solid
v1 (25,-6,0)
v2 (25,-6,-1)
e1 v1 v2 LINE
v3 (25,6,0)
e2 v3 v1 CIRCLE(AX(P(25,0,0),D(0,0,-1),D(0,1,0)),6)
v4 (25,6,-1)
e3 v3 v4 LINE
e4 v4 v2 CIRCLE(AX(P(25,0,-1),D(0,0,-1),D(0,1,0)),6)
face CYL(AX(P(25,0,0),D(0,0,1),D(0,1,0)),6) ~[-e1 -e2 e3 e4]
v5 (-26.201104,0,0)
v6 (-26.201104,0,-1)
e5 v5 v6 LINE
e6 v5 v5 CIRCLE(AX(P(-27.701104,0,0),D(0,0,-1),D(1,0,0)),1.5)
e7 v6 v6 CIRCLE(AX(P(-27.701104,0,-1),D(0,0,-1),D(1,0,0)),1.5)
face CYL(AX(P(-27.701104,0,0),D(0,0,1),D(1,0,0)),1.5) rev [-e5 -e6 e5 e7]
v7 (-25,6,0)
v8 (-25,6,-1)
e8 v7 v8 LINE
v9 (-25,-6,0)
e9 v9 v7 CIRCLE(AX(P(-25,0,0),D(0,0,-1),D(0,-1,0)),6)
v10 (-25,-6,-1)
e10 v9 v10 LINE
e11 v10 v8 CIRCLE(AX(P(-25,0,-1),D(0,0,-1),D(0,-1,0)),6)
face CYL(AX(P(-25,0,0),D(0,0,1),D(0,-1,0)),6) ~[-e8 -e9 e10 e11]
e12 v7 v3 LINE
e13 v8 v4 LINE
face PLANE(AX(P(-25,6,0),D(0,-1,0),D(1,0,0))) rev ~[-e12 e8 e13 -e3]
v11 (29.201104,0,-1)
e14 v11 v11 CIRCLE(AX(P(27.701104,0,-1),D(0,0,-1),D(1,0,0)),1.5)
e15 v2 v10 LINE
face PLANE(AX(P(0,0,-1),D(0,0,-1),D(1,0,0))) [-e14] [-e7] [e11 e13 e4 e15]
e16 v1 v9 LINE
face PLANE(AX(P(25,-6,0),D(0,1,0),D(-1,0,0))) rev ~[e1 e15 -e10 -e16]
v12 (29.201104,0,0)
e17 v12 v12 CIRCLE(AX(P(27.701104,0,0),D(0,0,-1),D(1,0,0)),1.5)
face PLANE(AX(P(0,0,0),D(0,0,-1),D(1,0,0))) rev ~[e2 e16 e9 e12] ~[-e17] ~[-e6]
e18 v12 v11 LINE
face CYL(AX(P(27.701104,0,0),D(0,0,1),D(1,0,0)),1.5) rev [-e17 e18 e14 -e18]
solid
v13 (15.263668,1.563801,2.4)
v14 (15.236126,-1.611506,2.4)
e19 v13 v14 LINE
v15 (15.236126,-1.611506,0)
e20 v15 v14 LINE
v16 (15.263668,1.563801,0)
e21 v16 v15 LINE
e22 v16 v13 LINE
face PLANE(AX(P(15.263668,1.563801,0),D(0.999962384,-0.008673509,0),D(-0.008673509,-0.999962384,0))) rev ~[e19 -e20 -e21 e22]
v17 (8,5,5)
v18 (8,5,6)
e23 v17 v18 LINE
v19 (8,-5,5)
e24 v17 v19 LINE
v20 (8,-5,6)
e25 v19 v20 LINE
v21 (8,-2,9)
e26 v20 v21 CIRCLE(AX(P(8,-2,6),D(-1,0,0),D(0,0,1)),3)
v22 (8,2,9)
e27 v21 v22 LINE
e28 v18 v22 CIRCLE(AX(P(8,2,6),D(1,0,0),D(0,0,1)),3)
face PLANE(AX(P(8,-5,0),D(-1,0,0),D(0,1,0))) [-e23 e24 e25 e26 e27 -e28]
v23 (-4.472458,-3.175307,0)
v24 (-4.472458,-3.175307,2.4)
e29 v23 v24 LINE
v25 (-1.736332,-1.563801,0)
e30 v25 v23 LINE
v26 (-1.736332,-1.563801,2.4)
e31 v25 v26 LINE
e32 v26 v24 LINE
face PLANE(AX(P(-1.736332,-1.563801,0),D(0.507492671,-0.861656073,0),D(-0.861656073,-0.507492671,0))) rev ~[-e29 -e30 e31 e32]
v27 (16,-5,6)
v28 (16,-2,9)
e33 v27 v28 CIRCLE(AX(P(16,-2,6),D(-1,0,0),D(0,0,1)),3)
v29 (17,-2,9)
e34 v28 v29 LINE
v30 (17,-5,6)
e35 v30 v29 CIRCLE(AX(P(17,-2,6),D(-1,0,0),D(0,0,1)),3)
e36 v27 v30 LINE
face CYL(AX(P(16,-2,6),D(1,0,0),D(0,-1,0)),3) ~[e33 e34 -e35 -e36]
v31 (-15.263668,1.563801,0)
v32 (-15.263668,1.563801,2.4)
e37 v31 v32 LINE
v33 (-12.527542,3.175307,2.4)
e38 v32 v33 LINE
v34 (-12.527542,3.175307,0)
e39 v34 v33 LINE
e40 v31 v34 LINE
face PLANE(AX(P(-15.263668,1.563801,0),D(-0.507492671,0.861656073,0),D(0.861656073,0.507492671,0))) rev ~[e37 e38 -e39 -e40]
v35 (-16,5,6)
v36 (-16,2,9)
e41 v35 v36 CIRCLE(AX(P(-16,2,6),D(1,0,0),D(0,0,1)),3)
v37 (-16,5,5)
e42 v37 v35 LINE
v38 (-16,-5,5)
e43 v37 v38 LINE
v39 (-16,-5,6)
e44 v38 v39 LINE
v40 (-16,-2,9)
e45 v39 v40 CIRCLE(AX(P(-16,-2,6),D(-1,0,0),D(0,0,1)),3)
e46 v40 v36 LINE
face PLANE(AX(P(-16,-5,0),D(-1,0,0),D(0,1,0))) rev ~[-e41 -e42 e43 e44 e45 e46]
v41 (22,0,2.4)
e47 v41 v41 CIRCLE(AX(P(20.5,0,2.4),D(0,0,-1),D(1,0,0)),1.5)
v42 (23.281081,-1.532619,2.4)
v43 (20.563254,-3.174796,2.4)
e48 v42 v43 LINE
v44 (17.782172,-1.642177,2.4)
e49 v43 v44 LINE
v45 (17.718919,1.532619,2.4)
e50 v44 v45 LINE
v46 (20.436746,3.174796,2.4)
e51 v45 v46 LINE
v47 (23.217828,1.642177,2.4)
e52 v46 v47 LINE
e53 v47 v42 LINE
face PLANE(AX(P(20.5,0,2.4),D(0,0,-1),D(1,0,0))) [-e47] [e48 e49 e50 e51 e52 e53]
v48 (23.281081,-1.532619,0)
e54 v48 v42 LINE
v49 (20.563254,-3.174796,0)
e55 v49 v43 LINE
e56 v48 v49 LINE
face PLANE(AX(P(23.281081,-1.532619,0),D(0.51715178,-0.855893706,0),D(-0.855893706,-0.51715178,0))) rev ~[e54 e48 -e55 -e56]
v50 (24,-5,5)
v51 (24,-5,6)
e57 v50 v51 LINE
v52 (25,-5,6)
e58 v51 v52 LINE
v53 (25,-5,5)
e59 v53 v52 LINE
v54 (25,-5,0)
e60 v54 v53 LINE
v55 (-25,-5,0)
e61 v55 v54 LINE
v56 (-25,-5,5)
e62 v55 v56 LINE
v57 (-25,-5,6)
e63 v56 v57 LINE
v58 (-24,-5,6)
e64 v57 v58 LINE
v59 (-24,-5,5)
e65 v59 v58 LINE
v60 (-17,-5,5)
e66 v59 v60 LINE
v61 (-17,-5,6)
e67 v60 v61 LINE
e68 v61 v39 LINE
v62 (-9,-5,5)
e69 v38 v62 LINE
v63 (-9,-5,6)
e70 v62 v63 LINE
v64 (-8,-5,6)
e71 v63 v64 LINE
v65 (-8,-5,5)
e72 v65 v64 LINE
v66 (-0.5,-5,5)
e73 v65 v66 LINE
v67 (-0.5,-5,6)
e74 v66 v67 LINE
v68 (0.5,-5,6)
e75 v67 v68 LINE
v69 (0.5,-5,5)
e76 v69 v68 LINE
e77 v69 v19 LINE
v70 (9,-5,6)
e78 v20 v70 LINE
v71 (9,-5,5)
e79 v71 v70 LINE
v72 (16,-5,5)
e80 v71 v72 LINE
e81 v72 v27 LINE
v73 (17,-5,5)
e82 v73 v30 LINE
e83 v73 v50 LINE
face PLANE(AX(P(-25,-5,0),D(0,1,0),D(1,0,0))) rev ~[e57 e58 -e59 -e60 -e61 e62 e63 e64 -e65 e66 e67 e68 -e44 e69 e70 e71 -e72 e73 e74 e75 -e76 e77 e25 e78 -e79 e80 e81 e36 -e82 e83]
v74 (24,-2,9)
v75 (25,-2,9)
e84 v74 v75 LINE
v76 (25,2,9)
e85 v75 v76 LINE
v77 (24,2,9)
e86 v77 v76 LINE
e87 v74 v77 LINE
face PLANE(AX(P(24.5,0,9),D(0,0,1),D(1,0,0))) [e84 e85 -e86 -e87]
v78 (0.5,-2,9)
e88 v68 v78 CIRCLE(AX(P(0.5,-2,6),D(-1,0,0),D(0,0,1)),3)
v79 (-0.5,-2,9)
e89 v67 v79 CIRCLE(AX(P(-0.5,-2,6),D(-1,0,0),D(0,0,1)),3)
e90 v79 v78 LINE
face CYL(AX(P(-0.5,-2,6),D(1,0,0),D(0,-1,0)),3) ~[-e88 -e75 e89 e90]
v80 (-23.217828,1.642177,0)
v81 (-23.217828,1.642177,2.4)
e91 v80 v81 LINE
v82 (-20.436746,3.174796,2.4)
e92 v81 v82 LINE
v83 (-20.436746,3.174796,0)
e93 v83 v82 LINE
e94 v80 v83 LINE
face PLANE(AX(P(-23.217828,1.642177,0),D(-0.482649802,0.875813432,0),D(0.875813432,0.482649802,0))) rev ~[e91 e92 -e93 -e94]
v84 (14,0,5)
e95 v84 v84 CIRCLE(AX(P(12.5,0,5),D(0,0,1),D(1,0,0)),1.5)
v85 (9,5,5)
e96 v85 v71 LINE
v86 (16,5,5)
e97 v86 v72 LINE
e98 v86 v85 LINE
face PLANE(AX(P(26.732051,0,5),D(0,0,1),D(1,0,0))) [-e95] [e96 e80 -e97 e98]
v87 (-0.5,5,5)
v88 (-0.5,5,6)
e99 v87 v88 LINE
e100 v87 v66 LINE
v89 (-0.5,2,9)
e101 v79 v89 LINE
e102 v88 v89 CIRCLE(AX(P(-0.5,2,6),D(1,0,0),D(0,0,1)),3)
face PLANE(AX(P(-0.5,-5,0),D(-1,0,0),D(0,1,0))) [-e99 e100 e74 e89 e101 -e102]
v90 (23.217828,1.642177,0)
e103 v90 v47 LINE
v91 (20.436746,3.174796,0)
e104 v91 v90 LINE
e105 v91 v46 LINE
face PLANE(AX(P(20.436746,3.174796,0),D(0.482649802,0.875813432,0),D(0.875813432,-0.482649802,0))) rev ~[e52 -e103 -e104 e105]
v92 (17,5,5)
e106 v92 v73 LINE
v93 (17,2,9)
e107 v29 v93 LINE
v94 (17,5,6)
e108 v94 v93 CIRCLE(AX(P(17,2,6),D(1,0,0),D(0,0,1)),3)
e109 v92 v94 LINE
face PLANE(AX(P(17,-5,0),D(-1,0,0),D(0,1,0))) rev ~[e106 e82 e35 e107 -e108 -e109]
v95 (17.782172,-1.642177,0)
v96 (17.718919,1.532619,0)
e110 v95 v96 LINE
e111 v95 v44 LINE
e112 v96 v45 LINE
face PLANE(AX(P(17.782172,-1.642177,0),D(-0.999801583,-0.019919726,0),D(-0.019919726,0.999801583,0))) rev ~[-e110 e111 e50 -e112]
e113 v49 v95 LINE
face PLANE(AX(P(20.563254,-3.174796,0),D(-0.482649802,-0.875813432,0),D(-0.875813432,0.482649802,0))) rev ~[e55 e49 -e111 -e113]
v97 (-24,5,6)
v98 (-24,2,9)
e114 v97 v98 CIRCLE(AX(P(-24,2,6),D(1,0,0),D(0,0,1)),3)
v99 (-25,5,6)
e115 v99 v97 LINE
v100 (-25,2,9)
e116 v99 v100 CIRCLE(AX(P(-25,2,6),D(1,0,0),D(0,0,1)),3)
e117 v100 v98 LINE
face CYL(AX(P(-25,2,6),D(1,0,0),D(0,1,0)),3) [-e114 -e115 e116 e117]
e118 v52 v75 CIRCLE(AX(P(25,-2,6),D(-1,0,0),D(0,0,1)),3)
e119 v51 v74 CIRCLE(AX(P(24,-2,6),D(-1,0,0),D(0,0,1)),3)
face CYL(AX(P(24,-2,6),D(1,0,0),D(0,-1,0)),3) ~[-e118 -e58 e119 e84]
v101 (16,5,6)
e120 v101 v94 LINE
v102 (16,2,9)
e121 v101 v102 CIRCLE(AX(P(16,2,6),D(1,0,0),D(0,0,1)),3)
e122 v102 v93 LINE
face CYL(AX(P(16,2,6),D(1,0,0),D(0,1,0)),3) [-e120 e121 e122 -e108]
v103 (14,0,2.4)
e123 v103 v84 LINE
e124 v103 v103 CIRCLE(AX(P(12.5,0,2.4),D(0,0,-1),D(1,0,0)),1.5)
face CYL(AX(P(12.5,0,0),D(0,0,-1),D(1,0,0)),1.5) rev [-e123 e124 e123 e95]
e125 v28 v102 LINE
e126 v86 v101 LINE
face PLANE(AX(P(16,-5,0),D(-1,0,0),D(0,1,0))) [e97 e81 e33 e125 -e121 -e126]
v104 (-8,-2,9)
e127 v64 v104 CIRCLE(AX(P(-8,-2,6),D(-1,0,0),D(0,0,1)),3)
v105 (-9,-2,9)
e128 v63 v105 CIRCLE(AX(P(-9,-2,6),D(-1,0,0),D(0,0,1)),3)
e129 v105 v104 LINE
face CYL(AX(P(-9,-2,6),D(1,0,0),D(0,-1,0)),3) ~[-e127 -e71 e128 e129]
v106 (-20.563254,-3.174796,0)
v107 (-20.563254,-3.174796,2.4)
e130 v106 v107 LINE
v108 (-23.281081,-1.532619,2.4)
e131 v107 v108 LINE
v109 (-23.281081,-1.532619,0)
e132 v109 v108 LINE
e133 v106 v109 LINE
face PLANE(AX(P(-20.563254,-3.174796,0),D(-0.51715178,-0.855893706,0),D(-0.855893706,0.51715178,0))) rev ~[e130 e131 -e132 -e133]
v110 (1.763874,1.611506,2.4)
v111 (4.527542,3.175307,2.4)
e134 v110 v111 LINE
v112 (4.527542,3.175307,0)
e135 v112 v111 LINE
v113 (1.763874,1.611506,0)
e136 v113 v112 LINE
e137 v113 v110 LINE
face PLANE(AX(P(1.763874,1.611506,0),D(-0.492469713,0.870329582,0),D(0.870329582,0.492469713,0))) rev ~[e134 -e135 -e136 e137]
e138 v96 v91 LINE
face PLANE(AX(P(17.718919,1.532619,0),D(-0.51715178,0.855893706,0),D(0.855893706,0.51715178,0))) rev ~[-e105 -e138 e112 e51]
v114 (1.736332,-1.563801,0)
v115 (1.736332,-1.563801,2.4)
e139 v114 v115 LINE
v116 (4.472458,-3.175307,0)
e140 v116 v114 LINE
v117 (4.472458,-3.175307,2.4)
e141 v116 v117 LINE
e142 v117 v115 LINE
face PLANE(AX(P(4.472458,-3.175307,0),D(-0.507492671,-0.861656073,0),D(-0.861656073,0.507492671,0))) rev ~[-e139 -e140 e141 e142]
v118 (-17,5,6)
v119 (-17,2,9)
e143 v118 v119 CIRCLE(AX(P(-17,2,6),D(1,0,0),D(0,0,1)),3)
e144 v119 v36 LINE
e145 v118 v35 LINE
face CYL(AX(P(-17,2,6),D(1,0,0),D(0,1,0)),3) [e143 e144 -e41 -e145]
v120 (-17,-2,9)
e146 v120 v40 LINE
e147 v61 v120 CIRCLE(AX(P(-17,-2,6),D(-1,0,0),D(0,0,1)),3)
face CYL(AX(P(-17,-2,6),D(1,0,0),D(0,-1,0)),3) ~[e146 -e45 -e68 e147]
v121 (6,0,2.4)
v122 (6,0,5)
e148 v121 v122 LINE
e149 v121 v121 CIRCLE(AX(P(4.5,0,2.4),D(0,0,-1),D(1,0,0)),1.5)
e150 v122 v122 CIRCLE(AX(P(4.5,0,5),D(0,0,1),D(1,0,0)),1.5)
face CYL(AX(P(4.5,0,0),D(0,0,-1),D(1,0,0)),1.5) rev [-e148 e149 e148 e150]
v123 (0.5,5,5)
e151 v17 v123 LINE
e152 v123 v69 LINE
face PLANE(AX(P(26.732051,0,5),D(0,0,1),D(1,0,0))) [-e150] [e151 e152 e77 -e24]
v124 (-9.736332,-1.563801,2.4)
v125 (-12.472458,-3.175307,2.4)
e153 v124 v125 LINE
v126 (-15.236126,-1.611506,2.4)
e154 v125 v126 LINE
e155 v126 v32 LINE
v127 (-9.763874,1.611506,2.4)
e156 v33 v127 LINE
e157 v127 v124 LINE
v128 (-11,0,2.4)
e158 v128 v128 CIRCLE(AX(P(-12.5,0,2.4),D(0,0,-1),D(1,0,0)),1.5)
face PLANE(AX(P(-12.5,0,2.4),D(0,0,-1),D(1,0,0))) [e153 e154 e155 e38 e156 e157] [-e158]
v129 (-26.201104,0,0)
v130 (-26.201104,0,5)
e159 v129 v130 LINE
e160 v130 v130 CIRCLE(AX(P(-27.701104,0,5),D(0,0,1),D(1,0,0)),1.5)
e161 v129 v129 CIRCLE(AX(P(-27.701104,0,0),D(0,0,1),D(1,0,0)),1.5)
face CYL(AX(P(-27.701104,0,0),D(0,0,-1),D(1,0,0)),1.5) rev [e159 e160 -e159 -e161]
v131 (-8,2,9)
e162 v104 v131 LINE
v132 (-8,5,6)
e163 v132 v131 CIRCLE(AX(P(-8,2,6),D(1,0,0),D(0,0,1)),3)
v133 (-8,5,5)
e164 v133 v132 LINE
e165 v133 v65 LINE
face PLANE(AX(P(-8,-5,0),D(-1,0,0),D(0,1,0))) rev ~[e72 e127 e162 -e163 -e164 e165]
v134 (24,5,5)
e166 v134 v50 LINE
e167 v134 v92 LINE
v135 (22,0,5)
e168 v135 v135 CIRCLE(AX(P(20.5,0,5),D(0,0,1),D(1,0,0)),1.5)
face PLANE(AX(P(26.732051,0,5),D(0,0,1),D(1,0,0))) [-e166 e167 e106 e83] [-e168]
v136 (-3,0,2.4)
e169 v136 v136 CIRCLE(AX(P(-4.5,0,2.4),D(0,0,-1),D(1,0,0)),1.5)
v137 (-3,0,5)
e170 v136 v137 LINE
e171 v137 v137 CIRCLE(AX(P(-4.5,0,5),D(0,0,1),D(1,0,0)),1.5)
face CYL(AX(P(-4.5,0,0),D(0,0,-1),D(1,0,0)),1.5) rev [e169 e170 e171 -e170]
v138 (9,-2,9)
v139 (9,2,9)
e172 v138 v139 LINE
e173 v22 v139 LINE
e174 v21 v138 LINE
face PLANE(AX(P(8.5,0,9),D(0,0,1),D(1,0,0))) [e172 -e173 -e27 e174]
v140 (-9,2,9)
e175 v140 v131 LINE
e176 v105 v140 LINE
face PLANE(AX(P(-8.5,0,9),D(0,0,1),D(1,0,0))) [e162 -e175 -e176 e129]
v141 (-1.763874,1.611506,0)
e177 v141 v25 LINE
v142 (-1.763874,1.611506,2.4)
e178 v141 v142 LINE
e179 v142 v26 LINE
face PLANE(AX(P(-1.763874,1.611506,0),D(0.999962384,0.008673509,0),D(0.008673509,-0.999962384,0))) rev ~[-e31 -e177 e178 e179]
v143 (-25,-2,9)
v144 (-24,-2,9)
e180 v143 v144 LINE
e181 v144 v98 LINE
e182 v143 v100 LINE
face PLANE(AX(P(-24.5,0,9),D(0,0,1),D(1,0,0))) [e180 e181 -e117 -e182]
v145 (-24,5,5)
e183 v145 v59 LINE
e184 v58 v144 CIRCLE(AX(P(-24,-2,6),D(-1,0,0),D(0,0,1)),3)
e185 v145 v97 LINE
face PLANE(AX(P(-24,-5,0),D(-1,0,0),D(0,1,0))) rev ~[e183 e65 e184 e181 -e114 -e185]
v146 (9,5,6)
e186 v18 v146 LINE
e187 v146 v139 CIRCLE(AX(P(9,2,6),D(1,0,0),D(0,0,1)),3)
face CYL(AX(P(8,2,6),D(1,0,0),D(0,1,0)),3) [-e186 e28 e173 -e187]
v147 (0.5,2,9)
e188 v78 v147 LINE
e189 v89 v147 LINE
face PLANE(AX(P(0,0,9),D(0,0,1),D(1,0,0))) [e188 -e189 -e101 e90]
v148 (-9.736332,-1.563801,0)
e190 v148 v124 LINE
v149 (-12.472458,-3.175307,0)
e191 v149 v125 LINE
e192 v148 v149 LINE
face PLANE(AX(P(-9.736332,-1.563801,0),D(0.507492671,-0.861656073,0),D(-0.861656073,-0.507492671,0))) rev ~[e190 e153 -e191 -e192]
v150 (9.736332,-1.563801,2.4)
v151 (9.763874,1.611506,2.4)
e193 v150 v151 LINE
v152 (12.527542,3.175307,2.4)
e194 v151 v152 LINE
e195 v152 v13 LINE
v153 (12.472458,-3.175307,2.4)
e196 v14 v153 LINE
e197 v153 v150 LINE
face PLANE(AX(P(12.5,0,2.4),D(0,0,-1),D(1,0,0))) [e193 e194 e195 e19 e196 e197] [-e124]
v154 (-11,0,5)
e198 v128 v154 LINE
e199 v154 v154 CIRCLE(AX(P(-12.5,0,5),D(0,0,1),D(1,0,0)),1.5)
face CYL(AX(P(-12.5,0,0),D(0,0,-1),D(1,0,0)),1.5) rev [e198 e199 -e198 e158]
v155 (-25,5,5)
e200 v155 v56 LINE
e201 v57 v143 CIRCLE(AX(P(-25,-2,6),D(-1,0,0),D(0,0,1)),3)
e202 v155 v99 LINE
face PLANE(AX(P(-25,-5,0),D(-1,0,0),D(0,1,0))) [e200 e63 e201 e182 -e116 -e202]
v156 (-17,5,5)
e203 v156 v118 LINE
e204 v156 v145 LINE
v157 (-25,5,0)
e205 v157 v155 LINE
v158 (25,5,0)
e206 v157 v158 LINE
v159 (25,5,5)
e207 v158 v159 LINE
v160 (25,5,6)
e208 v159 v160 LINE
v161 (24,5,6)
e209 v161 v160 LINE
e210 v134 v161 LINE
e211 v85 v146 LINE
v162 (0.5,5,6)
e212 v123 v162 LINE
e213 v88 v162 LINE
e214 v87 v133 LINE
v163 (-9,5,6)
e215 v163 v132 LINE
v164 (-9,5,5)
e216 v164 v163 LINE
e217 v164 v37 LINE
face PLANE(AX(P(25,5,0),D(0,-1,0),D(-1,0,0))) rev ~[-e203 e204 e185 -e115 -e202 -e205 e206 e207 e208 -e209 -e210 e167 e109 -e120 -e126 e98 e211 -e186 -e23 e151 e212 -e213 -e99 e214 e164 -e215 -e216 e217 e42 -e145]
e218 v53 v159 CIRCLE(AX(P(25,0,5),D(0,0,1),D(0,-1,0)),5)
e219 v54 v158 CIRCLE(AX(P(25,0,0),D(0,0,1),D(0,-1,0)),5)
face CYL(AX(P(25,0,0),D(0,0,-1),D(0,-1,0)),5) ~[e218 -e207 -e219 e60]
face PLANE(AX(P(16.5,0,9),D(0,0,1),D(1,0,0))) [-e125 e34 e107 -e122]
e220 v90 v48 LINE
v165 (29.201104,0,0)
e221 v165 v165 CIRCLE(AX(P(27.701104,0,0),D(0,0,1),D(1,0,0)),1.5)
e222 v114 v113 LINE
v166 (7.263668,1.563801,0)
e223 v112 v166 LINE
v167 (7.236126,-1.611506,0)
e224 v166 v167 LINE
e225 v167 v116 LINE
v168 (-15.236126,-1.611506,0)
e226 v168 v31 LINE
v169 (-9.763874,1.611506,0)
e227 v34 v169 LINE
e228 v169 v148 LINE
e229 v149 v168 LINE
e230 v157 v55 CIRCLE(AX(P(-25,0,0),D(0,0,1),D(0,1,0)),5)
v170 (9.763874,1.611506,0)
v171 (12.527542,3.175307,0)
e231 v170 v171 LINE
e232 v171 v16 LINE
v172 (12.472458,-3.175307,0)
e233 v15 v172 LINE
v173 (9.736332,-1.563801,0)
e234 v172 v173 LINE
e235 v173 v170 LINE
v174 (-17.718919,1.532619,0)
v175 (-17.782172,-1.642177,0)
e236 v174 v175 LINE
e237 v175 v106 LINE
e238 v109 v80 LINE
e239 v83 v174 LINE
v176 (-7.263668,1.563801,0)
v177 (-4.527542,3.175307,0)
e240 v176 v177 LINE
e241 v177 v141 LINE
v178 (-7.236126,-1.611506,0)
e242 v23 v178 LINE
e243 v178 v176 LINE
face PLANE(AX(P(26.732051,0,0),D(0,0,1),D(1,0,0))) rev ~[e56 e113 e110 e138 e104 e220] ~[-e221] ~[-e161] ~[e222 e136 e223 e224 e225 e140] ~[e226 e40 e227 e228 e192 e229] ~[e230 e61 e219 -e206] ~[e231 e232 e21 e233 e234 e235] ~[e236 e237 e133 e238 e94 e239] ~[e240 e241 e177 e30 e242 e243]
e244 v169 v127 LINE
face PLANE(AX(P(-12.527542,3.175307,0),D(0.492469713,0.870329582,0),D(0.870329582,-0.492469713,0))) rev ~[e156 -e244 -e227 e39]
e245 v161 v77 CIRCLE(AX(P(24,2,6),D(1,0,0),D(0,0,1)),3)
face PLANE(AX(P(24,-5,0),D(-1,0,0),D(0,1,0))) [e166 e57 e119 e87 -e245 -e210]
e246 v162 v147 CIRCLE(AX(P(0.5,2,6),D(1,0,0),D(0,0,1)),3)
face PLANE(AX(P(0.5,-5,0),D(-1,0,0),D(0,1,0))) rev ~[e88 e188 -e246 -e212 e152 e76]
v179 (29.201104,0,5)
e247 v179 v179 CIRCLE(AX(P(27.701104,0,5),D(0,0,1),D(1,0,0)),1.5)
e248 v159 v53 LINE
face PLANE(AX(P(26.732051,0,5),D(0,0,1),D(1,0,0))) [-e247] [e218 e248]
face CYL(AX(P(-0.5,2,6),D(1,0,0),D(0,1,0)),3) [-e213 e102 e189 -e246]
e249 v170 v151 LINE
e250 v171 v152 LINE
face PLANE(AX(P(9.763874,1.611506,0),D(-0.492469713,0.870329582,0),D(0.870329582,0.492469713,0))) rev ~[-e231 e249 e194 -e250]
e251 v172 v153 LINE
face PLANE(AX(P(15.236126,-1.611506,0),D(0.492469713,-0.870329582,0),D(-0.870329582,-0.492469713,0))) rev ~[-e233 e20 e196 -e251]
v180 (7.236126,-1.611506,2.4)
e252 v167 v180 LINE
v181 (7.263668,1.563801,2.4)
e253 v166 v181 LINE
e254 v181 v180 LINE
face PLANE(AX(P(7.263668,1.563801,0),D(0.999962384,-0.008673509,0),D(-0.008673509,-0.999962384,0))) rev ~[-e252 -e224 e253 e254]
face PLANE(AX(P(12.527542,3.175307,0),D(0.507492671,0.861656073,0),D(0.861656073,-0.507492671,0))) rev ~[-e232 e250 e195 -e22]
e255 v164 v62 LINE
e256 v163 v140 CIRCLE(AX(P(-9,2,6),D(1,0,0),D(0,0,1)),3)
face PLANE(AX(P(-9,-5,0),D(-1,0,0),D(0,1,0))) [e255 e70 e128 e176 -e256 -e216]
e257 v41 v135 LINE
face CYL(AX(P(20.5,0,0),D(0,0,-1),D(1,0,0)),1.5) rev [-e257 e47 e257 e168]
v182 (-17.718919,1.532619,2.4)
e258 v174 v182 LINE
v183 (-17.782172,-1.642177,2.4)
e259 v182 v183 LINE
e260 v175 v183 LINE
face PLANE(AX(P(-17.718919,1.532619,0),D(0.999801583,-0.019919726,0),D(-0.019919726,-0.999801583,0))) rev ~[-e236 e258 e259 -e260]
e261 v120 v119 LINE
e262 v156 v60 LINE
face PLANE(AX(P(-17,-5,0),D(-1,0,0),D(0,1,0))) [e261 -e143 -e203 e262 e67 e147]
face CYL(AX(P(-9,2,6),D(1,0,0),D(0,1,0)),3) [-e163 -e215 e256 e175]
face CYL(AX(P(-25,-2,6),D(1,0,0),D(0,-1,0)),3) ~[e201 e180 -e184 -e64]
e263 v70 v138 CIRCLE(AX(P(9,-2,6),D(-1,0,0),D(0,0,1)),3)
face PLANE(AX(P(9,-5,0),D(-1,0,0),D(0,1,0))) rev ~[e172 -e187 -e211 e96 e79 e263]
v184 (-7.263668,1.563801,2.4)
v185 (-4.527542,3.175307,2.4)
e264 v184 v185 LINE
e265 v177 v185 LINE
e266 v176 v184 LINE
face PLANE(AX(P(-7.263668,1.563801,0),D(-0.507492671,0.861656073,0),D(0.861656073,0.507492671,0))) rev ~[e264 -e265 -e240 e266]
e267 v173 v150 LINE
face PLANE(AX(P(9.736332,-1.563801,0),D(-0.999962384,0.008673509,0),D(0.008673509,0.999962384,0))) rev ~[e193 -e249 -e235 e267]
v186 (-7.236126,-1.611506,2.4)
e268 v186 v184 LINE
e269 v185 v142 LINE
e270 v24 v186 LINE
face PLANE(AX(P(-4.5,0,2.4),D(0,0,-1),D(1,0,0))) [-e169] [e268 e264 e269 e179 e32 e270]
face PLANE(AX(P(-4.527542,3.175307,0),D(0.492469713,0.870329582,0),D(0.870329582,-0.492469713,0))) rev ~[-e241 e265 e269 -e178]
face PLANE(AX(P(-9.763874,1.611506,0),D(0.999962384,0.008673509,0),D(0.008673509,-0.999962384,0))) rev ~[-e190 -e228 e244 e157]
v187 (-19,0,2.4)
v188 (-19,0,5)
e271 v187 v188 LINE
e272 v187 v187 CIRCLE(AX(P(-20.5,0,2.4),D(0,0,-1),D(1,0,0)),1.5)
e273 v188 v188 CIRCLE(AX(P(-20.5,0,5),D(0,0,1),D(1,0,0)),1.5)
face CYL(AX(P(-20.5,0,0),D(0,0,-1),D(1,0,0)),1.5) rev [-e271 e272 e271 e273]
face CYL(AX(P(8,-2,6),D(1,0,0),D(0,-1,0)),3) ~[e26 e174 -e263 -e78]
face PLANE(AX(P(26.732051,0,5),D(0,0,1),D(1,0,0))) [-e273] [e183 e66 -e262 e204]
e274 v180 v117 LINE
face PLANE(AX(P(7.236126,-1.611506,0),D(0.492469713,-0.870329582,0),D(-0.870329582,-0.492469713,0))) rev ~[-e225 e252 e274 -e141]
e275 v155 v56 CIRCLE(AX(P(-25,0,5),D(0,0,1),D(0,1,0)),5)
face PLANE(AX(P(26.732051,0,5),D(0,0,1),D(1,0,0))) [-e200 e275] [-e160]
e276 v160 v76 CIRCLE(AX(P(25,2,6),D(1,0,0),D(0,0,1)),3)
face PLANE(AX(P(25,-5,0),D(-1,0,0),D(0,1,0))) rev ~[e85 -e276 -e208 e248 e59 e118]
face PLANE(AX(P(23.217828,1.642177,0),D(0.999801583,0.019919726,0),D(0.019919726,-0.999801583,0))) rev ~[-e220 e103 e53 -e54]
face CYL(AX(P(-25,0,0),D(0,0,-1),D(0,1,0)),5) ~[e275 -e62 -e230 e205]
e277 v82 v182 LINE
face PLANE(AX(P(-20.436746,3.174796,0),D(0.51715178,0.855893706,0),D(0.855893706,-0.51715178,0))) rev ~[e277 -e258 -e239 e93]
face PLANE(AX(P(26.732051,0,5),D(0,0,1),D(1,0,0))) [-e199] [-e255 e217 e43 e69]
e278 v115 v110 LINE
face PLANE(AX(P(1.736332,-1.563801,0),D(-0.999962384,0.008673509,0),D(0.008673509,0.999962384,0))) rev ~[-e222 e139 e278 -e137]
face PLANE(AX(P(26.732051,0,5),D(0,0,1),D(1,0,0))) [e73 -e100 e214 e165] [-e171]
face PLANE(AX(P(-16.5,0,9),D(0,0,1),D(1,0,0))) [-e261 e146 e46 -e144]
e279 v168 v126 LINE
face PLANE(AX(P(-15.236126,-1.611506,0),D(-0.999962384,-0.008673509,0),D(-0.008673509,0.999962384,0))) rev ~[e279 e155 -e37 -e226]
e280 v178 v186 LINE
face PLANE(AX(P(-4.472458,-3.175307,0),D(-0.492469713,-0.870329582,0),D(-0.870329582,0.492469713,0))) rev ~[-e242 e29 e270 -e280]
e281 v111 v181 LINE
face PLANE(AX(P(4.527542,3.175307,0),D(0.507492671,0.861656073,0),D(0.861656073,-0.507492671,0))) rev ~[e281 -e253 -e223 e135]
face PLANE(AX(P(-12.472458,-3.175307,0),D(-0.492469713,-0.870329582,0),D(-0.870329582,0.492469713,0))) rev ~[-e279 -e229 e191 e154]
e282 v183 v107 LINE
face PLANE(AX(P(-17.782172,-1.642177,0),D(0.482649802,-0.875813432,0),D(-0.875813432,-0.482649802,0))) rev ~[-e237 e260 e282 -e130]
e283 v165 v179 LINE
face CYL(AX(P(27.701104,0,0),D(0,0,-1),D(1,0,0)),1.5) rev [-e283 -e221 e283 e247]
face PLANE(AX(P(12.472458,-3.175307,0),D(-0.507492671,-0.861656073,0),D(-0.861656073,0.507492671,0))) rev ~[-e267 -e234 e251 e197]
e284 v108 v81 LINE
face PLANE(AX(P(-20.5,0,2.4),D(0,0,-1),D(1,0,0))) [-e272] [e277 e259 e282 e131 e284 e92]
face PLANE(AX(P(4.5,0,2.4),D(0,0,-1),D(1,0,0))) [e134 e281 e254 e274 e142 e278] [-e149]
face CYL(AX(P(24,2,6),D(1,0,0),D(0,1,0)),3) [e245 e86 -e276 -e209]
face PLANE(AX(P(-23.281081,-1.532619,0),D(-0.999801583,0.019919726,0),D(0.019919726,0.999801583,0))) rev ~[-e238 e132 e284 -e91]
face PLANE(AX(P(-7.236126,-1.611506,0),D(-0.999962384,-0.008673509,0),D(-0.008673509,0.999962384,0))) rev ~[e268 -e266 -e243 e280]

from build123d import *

# Parameters (mm, degrees)
F0_R     = 1.5
F0_W     = 1
F0_H     = 10
F0_W_2   = 7
F0_W_3   = 7.5
F1_DEPTH = 5
F2_DEPTH = 9
F3_R     = 3
F5_DEPTH = 2.4
F6_R     = 1.5
F7_DEPTH = 1


with BuildPart() as f1:
    # F0 (on Top) → F1 (new body)
    with BuildSketch(Plane.XY):
        with BuildLine():
            Line((25, 5), (25, -5))
            ThreePointArc((25, -5), (30, 0), (25, 5))
        make_face()
        with Locations((27.7011040598, 0)):
            Circle(F0_R, mode=Mode.SUBTRACT)
        with Locations((24.5, 0)):
            Rectangle(F0_W, F0_H)
        with Locations((20.5, 0)):
            Rectangle(F0_W_2, F0_H)
        with Locations((20.5, 0)):
            Circle(F0_R, mode=Mode.SUBTRACT)
        with Locations((16.5, 0)):
            Rectangle(F0_W, F0_H)
        with Locations((12.5, 0)):
            Rectangle(F0_W_2, F0_H)
        with Locations((12.5, 0)):
            Circle(F0_R, mode=Mode.SUBTRACT)
        with Locations((8.5, 0)):
            Rectangle(F0_W, F0_H)
        with Locations((4.25, 0)):
            Rectangle(F0_W_3, F0_H)
        with Locations((4.5, 0)):
            Circle(F0_R, mode=Mode.SUBTRACT)
        Rectangle(F0_W, F0_H)
        with Locations((-4.25, 0)):
            Rectangle(F0_W_3, F0_H)
        with Locations((-4.5, 0)):
            Circle(F0_R, mode=Mode.SUBTRACT)
        with Locations((-8.5, 0)):
            Rectangle(F0_W, F0_H)
        with Locations((-12.5, 0)):
            Rectangle(F0_W_2, F0_H)
        with Locations((-12.5, 0)):
            Circle(F0_R, mode=Mode.SUBTRACT)
        with Locations((-16.5, 0)):
            Rectangle(F0_W, F0_H)
        with Locations((-20.5, 0)):
            Rectangle(F0_W_2, F0_H)
        with Locations((-20.5, 0)):
            Circle(F0_R, mode=Mode.SUBTRACT)
        with Locations((-24.5, 0)):
            Rectangle(F0_W, F0_H)
        with BuildLine():
            ThreePointArc((-25, 5), (-30, 0), (-25, -5))
            Line((-25, -5), (-25, 5))
        make_face()
        with Locations((-27.7011040598, 0)):
            Circle(F0_R, mode=Mode.SUBTRACT)
    extrude(amount=F1_DEPTH)

    # F0 (on Top) → F2 (join)
    with BuildSketch(Plane.XY):
        with Locations((-24.5, 0)):
            Rectangle(F0_W, F0_H)
        with Locations((-16.5, 0)):
            Rectangle(F0_W, F0_H)
        with Locations((-8.5, 0)):
            Rectangle(F0_W, F0_H)
        Rectangle(F0_W, F0_H)
        with Locations((8.5, 0)):
            Rectangle(F0_W, F0_H)
        with Locations((16.5, 0)):
            Rectangle(F0_W, F0_H)
        with Locations((24.5, 0)):
            Rectangle(F0_W, F0_H)
    extrude(amount=F2_DEPTH)

    # F3
    f3_edges = [f1.edges().sort_by_distance(p)[0] for p in [
        (-24.5, -5, 9),
        (-16.5, -5, 9),
        (-8.5, -5, 9),
        (0, -5, 9),
        (8.5, -5, 9),
        (16.5, -5, 9),
        (24.5, -5, 9),
        (24.5, 5, 9),
        (16.5, 5, 9),
        (8.5, 5, 9),
        (0, 5, 9),
        (-8.5, 5, 9),
        (-16.5, 5, 9),
        (-24.5, 5, 9),
    ]]
    fillet(f3_edges, radius=F3_R)

    # F4 (on face) → F5 (cut)
    with BuildSketch(Plane(origin=(0, 0, 0), x_dir=(1, 0, 0), z_dir=(0, 0, -1))):
        Polygon((-20.4367463733, -3.1747964206), (-17.7189188346, -1.5326189627), (-17.7821724613, 1.6421774579), (-20.5632536267, 3.1747964206), (-23.2810811654, 1.5326189627), (-23.2178275387, -1.6421774579), align=None)
        Polygon((-12.5275420892, -3.175307035), (-9.7638744875, -1.6115056665), (-9.7363323982, 1.5638013686), (-12.4724579108, 3.175307035), (-15.2361255125, 1.6115056665), (-15.2636676018, -1.5638013686), align=None)
        Polygon((-4.5275420892, -3.175307035), (-1.7638744875, -1.6115056665), (-1.7363323982, 1.5638013686), (-4.4724579108, 3.175307035), (-7.2361255125, 1.6115056665), (-7.2636676018, -1.5638013686), align=None)
        Polygon((23.2178275387, -1.6421774579), (23.2810811654, 1.5326189627), (20.5632536267, 3.1747964206), (17.7821724613, 1.6421774579), (17.7189188346, -1.5326189627), (20.4367463733, -3.1747964206), align=None)
        Polygon((15.2636676018, -1.5638013686), (15.2361255125, 1.6115056665), (12.4724579108, 3.175307035), (9.7363323982, 1.5638013686), (9.7638744875, -1.6115056665), (12.5275420892, -3.175307035), align=None)
        Polygon((7.2636676018, -1.5638013686), (7.2361255125, 1.6115056665), (4.4724579108, 3.175307035), (1.7363323982, 1.5638013686), (1.7638744875, -1.6115056665), (4.5275420892, -3.175307035), align=None)
    extrude(amount=-F5_DEPTH, mode=Mode.SUBTRACT)


with BuildPart() as f7:
    # F6 (on face) → F7 (new body)
    with BuildSketch(Plane(origin=(0, 0, 0), x_dir=(1, 0, 0), z_dir=(0, 0, -1))):
        with BuildLine():
            ThreePointArc((25, -6), (31, 0), (25, 6))
            Line((25, 6), (-25, 6))
            ThreePointArc((-25, 6), (-31, 0), (-25, -6))
            Line((-25, -6), (25, -6))
        make_face()
        with Locations((-27.7011040598, 0)):
            Circle(F6_R, mode=Mode.SUBTRACT)
        with Locations((27.7011040598, 0)):
            Circle(F6_R, mode=Mode.SUBTRACT)
    extrude(amount=F7_DEPTH)


solid = Compound([f1.part, f7.part])
